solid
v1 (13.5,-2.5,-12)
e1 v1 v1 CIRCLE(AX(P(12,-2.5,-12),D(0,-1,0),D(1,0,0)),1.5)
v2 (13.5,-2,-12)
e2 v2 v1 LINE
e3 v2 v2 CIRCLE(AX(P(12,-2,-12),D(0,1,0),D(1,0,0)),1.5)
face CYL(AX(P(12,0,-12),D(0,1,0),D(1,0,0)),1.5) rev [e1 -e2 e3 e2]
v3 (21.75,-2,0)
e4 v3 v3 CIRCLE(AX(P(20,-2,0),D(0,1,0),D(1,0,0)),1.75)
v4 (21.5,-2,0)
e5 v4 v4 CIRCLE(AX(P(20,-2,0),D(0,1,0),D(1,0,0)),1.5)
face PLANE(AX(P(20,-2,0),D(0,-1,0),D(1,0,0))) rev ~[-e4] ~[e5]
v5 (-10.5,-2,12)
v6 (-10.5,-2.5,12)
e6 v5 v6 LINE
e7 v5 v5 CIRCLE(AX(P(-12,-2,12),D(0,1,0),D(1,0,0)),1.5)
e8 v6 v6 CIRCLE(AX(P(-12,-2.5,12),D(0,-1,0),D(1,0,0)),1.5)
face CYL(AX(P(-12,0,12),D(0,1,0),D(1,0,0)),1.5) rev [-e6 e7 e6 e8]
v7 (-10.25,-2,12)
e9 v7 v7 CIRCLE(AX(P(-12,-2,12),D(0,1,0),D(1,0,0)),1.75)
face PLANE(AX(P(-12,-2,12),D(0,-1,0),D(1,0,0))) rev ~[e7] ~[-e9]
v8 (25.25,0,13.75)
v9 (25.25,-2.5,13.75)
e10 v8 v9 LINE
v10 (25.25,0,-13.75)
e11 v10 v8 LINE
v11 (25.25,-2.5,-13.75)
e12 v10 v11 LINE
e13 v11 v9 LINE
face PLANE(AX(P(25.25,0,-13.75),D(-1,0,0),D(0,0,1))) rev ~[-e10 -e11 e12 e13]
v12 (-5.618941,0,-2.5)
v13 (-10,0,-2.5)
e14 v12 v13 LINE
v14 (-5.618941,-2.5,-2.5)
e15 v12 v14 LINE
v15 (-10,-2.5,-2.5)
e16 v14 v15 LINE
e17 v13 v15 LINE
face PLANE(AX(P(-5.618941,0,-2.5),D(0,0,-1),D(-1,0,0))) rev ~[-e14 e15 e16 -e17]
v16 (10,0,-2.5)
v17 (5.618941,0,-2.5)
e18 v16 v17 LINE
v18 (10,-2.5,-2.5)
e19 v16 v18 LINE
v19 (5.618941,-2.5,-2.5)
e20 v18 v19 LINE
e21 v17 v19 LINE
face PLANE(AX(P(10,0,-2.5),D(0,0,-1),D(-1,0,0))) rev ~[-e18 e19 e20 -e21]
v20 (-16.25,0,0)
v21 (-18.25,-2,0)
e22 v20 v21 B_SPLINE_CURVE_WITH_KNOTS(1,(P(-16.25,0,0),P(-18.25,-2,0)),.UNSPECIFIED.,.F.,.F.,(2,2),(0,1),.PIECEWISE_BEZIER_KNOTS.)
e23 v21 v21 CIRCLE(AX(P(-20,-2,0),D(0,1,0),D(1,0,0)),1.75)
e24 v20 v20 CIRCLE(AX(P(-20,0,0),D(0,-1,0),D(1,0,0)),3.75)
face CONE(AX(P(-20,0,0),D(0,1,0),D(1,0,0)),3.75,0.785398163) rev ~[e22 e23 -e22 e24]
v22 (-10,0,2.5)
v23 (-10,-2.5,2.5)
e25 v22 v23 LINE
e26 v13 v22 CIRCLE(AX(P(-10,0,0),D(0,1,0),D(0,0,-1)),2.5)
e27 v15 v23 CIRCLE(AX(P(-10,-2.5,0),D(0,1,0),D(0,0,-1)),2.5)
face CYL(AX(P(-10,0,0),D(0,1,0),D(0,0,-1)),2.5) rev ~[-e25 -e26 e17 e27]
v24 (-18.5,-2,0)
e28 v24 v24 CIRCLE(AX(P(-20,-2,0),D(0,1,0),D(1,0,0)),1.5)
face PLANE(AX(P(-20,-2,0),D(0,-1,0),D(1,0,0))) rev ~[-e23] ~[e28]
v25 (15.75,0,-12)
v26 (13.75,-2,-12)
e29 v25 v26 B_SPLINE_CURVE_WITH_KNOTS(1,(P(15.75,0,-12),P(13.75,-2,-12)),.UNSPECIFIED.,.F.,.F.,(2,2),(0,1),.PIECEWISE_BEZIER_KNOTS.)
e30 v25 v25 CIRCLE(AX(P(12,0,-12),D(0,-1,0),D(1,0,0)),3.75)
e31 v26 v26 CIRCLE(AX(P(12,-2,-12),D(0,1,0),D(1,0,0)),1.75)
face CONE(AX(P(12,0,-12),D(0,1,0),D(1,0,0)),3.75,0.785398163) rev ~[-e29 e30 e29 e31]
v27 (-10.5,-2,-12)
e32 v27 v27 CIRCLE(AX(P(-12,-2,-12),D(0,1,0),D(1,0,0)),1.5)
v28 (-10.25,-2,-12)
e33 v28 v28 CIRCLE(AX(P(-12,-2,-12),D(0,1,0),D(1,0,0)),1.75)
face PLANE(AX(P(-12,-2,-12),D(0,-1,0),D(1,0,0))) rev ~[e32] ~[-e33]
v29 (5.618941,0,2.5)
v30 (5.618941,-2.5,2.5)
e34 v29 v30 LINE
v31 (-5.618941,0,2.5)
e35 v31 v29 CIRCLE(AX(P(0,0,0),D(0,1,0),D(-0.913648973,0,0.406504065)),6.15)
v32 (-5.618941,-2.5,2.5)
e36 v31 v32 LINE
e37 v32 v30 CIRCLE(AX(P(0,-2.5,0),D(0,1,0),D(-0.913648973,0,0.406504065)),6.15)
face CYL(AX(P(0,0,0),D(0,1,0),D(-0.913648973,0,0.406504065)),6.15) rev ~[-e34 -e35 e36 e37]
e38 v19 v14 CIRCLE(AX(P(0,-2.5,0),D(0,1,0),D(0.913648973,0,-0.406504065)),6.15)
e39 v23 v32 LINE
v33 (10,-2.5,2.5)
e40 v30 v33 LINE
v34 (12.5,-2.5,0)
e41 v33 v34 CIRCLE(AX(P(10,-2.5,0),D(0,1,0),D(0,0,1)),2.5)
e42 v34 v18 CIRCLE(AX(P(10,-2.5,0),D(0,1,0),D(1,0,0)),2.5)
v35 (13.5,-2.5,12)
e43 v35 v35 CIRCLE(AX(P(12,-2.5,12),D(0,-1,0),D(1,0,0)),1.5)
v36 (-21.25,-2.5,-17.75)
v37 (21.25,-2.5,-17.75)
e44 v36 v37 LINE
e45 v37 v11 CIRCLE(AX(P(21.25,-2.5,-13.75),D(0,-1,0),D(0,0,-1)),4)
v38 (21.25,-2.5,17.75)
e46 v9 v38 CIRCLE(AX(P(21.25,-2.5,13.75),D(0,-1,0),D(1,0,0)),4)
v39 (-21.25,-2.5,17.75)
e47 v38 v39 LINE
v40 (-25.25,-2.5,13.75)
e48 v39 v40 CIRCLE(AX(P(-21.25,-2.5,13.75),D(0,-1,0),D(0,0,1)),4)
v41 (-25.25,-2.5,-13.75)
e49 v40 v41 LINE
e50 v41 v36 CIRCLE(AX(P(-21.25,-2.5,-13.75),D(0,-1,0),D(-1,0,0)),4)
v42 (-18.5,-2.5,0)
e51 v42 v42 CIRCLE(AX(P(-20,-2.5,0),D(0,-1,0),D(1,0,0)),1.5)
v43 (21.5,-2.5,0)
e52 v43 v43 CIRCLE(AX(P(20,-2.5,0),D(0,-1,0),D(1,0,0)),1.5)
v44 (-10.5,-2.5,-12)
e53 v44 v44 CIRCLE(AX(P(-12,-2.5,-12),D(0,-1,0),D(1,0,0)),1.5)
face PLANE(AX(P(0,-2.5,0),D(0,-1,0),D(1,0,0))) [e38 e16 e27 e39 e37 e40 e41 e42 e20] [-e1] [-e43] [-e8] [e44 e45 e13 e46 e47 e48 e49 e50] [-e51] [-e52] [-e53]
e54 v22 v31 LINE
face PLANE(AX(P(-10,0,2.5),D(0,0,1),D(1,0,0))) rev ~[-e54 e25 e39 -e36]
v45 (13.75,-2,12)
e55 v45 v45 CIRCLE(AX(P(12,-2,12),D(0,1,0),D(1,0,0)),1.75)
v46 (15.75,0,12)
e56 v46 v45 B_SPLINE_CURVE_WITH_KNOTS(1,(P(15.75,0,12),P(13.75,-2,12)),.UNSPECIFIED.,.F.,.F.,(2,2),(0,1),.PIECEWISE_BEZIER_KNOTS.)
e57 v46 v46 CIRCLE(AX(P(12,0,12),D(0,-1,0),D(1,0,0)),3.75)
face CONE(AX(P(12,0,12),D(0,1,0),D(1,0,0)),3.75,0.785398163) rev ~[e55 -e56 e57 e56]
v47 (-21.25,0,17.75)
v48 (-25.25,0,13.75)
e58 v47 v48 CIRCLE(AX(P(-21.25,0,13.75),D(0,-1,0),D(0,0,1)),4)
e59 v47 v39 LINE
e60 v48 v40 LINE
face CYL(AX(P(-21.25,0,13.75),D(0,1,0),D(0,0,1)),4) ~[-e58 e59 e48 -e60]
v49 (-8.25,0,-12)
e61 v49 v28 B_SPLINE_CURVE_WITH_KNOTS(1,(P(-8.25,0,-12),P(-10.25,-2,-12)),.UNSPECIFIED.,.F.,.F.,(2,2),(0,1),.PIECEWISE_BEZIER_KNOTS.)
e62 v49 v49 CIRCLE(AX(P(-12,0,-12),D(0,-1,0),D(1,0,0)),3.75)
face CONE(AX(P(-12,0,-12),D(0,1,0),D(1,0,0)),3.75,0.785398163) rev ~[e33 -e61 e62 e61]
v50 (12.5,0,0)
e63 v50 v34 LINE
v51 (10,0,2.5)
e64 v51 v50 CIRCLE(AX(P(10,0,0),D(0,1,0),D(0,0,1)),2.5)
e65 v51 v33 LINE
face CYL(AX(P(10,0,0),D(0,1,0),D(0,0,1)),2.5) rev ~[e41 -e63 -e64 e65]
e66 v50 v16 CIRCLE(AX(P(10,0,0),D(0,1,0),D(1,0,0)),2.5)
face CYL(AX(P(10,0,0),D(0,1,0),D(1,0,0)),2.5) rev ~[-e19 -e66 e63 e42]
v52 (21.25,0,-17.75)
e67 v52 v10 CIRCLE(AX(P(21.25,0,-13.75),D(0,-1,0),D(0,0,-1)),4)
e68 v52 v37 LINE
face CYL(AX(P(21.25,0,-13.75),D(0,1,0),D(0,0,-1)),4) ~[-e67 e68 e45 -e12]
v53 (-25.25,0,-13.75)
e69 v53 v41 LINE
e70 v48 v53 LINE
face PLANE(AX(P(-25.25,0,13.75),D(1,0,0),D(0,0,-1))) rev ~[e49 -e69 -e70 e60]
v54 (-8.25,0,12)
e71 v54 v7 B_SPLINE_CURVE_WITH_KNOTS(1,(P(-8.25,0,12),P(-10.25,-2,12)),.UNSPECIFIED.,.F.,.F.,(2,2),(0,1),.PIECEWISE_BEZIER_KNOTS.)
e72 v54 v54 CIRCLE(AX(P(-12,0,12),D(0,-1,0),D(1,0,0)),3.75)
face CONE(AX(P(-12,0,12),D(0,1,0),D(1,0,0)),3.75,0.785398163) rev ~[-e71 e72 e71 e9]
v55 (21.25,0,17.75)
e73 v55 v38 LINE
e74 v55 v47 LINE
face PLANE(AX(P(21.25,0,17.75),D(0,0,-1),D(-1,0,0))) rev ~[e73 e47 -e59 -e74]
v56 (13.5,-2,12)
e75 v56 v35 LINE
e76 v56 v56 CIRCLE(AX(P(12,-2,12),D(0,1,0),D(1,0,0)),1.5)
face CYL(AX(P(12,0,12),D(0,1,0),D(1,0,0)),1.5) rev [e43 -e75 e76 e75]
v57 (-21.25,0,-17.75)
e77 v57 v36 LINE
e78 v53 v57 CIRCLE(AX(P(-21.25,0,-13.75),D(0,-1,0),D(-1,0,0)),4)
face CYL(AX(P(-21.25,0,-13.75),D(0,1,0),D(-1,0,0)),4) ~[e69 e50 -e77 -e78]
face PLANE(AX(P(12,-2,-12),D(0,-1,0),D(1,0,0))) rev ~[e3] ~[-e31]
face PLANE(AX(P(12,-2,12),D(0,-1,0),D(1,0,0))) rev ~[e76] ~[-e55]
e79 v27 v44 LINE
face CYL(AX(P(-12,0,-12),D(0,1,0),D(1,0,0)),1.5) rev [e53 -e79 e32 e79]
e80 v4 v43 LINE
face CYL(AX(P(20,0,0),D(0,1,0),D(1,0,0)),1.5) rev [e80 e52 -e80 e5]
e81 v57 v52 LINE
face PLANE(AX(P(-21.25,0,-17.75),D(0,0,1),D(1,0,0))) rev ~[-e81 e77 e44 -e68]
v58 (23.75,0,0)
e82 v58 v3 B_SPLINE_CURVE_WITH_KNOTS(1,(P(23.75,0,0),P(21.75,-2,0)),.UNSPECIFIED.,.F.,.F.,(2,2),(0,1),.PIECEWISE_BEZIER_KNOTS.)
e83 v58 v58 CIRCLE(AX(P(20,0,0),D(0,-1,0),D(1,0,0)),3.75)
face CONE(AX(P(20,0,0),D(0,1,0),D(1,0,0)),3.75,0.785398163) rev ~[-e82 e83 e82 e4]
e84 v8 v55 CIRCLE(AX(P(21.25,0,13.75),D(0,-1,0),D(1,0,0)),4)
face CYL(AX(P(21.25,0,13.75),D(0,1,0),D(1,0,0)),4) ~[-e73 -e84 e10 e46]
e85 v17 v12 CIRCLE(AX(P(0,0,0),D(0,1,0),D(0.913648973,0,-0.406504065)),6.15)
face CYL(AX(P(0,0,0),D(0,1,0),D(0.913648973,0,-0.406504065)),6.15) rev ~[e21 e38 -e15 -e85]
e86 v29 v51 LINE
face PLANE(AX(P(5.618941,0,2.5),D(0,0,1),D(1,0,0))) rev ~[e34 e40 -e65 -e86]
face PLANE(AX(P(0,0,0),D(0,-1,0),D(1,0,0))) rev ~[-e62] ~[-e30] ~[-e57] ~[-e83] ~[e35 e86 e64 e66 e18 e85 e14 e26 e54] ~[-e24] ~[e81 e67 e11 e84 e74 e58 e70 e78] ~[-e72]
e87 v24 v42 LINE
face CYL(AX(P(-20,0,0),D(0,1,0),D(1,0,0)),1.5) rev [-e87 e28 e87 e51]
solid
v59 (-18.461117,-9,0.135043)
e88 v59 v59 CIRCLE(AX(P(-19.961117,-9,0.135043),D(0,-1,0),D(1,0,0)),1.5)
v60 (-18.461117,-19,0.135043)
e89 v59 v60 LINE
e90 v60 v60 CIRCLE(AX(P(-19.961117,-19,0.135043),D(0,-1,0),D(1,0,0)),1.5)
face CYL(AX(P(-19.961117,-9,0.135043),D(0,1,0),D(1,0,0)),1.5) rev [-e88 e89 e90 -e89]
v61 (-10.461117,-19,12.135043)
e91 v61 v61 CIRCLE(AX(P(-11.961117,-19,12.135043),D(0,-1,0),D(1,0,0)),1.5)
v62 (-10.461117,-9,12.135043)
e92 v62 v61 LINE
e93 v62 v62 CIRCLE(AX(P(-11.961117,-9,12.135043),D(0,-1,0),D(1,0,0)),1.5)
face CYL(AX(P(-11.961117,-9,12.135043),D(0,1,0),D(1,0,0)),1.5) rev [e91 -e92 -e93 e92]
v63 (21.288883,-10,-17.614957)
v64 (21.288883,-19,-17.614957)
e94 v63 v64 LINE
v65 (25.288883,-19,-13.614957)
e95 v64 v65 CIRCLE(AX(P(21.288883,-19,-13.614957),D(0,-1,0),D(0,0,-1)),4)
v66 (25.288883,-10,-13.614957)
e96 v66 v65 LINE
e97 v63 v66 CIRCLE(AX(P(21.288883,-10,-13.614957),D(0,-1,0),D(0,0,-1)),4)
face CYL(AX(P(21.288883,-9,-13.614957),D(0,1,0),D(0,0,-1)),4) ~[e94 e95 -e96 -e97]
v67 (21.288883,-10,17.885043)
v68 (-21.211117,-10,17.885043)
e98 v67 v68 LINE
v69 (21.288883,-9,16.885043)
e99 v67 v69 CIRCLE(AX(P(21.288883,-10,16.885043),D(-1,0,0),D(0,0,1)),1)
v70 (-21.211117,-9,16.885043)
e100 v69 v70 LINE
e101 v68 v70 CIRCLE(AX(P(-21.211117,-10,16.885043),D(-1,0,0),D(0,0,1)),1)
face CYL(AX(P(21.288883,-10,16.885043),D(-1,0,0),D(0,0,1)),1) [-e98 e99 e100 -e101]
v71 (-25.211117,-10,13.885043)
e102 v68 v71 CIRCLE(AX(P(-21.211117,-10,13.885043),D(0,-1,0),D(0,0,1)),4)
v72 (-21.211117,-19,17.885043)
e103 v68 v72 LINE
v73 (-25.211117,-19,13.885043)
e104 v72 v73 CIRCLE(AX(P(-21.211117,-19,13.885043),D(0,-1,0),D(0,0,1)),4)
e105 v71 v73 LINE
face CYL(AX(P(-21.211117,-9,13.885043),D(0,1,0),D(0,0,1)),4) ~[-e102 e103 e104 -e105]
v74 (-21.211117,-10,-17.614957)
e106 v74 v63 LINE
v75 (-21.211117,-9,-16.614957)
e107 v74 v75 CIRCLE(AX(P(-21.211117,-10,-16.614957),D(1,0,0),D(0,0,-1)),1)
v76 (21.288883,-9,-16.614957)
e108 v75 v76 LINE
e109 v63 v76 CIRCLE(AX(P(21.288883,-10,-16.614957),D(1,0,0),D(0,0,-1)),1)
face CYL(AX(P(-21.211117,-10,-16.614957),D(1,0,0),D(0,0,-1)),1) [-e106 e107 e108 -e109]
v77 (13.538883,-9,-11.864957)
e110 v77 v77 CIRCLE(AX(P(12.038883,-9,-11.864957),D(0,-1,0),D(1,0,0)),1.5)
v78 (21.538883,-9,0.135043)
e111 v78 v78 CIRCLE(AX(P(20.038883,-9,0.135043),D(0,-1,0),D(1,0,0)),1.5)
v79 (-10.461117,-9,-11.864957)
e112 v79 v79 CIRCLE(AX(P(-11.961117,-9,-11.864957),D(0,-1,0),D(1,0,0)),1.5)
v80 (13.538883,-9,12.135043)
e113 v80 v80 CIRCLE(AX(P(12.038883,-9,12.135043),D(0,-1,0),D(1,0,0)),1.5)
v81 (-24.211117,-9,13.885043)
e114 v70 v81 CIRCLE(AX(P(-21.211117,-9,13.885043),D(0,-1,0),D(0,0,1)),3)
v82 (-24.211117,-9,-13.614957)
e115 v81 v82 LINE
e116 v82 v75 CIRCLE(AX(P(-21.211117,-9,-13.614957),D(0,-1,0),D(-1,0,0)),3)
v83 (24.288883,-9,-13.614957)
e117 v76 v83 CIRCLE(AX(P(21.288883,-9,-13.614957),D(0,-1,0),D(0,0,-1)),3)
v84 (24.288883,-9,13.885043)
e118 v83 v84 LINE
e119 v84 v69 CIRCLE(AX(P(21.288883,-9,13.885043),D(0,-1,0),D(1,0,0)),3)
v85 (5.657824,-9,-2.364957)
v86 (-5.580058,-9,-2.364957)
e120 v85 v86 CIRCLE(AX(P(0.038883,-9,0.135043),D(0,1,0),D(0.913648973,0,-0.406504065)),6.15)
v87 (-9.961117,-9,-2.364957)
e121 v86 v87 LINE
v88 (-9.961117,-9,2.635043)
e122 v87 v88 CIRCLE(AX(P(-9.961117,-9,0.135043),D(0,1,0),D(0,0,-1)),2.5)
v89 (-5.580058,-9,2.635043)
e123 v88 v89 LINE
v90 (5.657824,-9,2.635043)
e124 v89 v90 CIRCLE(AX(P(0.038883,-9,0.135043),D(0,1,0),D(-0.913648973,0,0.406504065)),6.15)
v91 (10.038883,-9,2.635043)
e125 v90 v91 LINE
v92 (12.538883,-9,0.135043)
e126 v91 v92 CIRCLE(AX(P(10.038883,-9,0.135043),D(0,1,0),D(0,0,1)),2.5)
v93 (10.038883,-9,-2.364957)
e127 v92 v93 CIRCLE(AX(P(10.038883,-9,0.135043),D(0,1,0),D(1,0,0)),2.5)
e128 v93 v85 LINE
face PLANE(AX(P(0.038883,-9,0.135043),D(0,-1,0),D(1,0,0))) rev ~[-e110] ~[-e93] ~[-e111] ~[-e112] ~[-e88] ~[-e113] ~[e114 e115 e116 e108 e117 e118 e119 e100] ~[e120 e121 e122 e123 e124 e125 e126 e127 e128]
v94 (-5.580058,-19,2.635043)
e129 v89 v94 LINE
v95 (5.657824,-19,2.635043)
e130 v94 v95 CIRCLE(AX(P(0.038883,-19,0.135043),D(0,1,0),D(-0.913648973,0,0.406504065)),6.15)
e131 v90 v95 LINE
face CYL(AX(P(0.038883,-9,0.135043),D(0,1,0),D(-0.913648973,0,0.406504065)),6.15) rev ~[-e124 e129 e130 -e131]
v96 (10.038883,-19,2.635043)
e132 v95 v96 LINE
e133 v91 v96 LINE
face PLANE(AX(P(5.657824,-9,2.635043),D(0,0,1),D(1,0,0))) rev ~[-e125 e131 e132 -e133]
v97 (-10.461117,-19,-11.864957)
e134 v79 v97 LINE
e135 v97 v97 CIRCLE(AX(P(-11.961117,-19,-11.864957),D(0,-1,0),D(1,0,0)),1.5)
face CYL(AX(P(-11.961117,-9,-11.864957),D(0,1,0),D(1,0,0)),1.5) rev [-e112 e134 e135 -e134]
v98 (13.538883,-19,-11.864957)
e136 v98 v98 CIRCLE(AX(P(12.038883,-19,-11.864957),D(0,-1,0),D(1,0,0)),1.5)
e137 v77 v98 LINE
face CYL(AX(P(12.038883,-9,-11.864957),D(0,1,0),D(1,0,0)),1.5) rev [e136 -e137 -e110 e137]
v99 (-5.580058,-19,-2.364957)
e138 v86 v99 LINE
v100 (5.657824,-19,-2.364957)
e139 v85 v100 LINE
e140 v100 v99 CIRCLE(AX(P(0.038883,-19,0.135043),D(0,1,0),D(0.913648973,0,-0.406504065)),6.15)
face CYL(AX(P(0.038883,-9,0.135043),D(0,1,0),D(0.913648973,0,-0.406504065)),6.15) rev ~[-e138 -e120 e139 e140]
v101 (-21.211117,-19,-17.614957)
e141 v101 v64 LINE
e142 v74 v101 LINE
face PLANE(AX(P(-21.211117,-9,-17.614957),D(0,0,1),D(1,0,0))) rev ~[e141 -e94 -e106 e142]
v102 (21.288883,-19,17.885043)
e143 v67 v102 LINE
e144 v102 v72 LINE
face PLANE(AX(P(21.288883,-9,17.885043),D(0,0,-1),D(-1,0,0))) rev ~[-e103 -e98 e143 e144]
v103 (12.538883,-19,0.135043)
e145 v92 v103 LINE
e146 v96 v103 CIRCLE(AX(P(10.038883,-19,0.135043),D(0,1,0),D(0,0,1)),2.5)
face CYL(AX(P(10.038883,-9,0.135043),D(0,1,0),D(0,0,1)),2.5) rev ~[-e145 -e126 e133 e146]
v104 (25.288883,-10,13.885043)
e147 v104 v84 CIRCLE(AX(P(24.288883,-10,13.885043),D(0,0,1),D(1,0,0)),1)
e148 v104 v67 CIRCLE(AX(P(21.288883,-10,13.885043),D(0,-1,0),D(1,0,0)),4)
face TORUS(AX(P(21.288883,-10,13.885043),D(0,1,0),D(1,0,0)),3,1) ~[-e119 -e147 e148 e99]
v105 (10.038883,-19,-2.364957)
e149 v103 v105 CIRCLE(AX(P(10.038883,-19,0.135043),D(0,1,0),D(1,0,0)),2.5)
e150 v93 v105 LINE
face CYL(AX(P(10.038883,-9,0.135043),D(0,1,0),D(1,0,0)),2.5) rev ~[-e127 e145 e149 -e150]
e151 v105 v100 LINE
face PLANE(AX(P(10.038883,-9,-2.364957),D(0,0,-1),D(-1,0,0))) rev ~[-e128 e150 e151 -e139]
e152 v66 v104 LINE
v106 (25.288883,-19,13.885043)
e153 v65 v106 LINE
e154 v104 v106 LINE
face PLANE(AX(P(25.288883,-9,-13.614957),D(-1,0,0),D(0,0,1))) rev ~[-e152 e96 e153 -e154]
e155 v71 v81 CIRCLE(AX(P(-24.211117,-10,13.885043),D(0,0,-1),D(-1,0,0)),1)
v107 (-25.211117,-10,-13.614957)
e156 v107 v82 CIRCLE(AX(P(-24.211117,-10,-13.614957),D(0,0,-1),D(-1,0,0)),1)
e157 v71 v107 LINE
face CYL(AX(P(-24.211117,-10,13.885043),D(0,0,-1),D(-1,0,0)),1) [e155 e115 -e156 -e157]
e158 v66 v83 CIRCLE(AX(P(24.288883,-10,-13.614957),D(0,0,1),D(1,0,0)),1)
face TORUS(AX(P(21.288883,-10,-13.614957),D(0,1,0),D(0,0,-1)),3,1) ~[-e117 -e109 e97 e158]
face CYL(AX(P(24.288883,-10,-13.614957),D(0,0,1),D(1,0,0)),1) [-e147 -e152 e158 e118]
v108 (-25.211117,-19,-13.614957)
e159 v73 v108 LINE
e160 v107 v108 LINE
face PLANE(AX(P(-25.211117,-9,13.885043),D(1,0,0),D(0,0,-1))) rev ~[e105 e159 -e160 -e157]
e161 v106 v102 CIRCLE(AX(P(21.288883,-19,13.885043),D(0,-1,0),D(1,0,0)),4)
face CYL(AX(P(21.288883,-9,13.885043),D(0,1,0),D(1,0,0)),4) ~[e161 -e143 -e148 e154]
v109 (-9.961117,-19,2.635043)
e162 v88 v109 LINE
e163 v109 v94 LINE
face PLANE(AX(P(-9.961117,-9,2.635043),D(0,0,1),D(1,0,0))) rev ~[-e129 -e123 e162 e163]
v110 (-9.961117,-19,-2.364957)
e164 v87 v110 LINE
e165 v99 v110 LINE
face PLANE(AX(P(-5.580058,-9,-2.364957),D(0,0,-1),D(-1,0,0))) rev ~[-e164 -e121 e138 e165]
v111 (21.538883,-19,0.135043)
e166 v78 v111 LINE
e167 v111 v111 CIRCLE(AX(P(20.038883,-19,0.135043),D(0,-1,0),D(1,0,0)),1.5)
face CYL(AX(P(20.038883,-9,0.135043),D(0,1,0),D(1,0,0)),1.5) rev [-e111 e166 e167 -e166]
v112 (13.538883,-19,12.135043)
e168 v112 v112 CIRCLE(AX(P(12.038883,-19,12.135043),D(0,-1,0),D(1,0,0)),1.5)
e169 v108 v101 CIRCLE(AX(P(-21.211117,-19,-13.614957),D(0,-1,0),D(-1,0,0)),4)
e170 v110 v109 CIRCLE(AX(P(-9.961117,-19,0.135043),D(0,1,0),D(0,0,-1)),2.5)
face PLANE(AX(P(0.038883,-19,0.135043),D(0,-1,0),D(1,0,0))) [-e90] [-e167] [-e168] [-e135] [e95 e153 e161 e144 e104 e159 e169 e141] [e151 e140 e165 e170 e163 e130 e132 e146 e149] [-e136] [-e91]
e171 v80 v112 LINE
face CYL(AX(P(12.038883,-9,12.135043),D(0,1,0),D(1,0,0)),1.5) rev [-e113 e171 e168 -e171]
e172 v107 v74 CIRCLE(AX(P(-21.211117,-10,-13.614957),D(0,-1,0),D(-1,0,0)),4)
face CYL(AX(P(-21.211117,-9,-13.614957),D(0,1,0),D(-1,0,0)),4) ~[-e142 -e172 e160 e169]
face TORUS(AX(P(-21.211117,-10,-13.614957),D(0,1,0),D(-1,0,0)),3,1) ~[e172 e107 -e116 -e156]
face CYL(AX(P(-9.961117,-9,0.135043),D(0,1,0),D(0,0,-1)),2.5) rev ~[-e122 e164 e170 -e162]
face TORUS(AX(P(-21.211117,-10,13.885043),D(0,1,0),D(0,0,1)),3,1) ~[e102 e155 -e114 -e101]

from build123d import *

# Parameters (mm, degrees)
F0_R     = 3.75
F0_R_2   = 1.5
F3_DEPTH = 2.5
F4_DEPTH = 2
F4_TAPER = 45
F2_R     = 1.5
F5_DEPTH = 10
F6_R     = 1


with BuildPart() as f3:
    # F0 (on Front) → F3 (new body)
    with BuildSketch(Plane.XZ):
        with BuildLine():
            ThreePointArc((25.25, 13.75), (24.0784271247, 16.5784271247), (21.25, 17.75))
            Line((21.25, 17.75), (-21.25, 17.75))
            ThreePointArc((-21.25, 17.75), (-24.0784271247, 16.5784271247), (-25.25, 13.75))
            Line((-25.25, 13.75), (-25.25, -13.75))
            ThreePointArc((-25.25, -13.75), (-24.0784271247, -16.5784271247), (-21.25, -17.75))
            Line((-21.25, -17.75), (21.25, -17.75))
            ThreePointArc((21.25, -17.75), (24.0784271247, -16.5784271247), (25.25, -13.75))
            Line((25.25, -13.75), (25.25, 13.75))
        make_face()
        with Locations((-12, -12)):
            Circle(F0_R, mode=Mode.SUBTRACT)
        with Locations((12, -12)):
            Circle(F0_R, mode=Mode.SUBTRACT)
        with Locations((-20, 0)):
            Circle(F0_R, mode=Mode.SUBTRACT)
        with Locations((-12, 12)):
            Circle(F0_R, mode=Mode.SUBTRACT)
        with BuildLine():
            ThreePointArc((-5.6189411814, 2.5), (0, 6.15), (5.6189411814, 2.5))
            Line((5.6189411814, 2.5), (10, 2.5))
            ThreePointArc((10, 2.5), (11.767766953, 1.767766953), (12.5, 0))
            ThreePointArc((12.5, 0), (11.767766953, -1.767766953), (10, -2.5))
            Line((10, -2.5), (5.6189411814, -2.5))
            ThreePointArc((5.6189411814, -2.5), (0, -6.15), (-5.6189411814, -2.5))
            Line((-5.6189411814, -2.5), (-10, -2.5))
            ThreePointArc((-10, -2.5), (-12.5, 0), (-10, 2.5))
            Line((-10, 2.5), (-5.6189411814, 2.5))
        make_face(mode=Mode.SUBTRACT)
        with Locations((20, 0)):
            Circle(F0_R, mode=Mode.SUBTRACT)
        with Locations((12, 12)):
            Circle(F0_R, mode=Mode.SUBTRACT)
        with Locations((-12, 12)):
            Circle(F0_R)
        with Locations((-12, 12)):
            Circle(F0_R_2, mode=Mode.SUBTRACT)
        with Locations((-20, 0)):
            Circle(F0_R)
        with Locations((-20, 0)):
            Circle(F0_R_2, mode=Mode.SUBTRACT)
        with Locations((-12, -12)):
            Circle(F0_R)
        with Locations((-12, -12)):
            Circle(F0_R_2, mode=Mode.SUBTRACT)
        with Locations((12, -12)):
            Circle(F0_R)
        with Locations((12, -12)):
            Circle(F0_R_2, mode=Mode.SUBTRACT)
        with Locations((20, 0)):
            Circle(F0_R)
        with Locations((20, 0)):
            Circle(F0_R_2, mode=Mode.SUBTRACT)
        with Locations((12, 12)):
            Circle(F0_R)
        with Locations((12, 12)):
            Circle(F0_R_2, mode=Mode.SUBTRACT)
    extrude(amount=F3_DEPTH)

    # F0 (on Front) → F4 (cut)
    with BuildSketch(Plane.XZ):
        with Locations((-20, 0)):
            Circle(F0_R)
        with Locations((-20, 0)):
            Circle(F0_R_2, mode=Mode.SUBTRACT)
        with Locations((12, -12)):
            Circle(F0_R)
        with Locations((12, -12)):
            Circle(F0_R_2, mode=Mode.SUBTRACT)
        with Locations((-12, 12)):
            Circle(F0_R)
        with Locations((-12, 12)):
            Circle(F0_R_2, mode=Mode.SUBTRACT)
        with Locations((12, 12)):
            Circle(F0_R)
        with Locations((12, 12)):
            Circle(F0_R_2, mode=Mode.SUBTRACT)
        with Locations((-12, -12)):
            Circle(F0_R)
        with Locations((-12, -12)):
            Circle(F0_R_2, mode=Mode.SUBTRACT)
        with Locations((20, 0)):
            Circle(F0_R)
        with Locations((20, 0)):
            Circle(F0_R_2, mode=Mode.SUBTRACT)
        with Locations((-12, 12)):
            Circle(F0_R_2)
        with Locations((-20, 0)):
            Circle(F0_R_2)
        with Locations((-12, -12)):
            Circle(F0_R_2)
        with Locations((12, -12)):
            Circle(F0_R_2)
        with Locations((20, 0)):
            Circle(F0_R_2)
        with Locations((12, 12)):
            Circle(F0_R_2)
    extrude(amount=F4_DEPTH, taper=F4_TAPER, mode=Mode.SUBTRACT)


with BuildPart() as f5:
    # F2 (on offset) → F5 (new body)
    with BuildSketch(Plane.XZ.offset(9)):
        with BuildLine():
            ThreePointArc((25.2888827066, 13.8850433886), (24.1173098313, 16.7134705133), (21.2888827066, 17.8850433886))
            Line((21.2888827066, 17.8850433886), (-21.2111172934, 17.8850433886))
            ThreePointArc((-21.2111172934, 17.8850433886), (-24.0395444182, 16.7134705133), (-25.2111172934, 13.8850433886))
            Line((-25.2111172934, 13.8850433886), (-25.2111172934, -13.6149566114))
            ThreePointArc((-25.2111172934, -13.6149566114), (-24.0395444182, -16.4433837362), (-21.2111172934, -17.6149566114))
            Line((-21.2111172934, -17.6149566114), (21.2888827066, -17.6149566114))
            ThreePointArc((21.2888827066, -17.6149566114), (24.1173098313, -16.4433837362), (25.2888827066, -13.6149566114))
            Line((25.2888827066, -13.6149566114), (25.2888827066, 13.8850433886))
        make_face()
        with Locations((-11.9611172934, -11.8649566114)):
            Circle(F2_R, mode=Mode.SUBTRACT)
        with Locations((-19.9611172934, 0.1350433886)):
            Circle(F2_R, mode=Mode.SUBTRACT)
        with Locations((12.0388827066, -11.8649566114)):
            Circle(F2_R, mode=Mode.SUBTRACT)
        with BuildLine():
            ThreePointArc((-5.5800584748, 2.6350433886), (0.0388827066, 6.2850433886), (5.657823888, 2.6350433886))
            Line((5.657823888, 2.6350433886), (10.0388827066, 2.6350433886))
            ThreePointArc((10.0388827066, 2.6350433886), (11.8066496595, 1.9028103415), (12.5388827066, 0.1350433886))
            ThreePointArc((12.5388827066, 0.1350433886), (11.8066496595, -1.6327235644), (10.0388827066, -2.3649566114))
            Line((10.0388827066, -2.3649566114), (5.657823888, -2.3649566114))
            ThreePointArc((5.657823888, -2.3649566114), (0.0388827066, -6.0149566114), (-5.5800584748, -2.3649566114))
            Line((-5.5800584748, -2.3649566114), (-9.9611172934, -2.3649566114))
            ThreePointArc((-9.9611172934, -2.3649566114), (-12.4611172934, 0.1350433886), (-9.9611172934, 2.6350433886))
            Line((-9.9611172934, 2.6350433886), (-5.5800584748, 2.6350433886))
        make_face(mode=Mode.SUBTRACT)
        with Locations((20.0388827066, 0.1350433886)):
            Circle(F2_R, mode=Mode.SUBTRACT)
        with Locations((-11.9611172934, 12.1350433886)):
            Circle(F2_R, mode=Mode.SUBTRACT)
        with Locations((12.0388827066, 12.1350433886)):
            Circle(F2_R, mode=Mode.SUBTRACT)
    extrude(amount=F5_DEPTH)

    # F6
    f6_edges = [f5.edges().sort_by_distance(p)[0] for p in [
        (25.288883, -9, 0.135043),
        (24.11731, -9, -16.443384),
        (0.038883, -9, -17.614957),
        (24.11731, -9, 16.713471),
        (-24.039544, -9, -16.443384),
        (-25.211117, -9, 0.135043),
        (-24.039544, -9, 16.713471),
        (0.038883, -9, 17.885043),
    ]]
    fillet(f6_edges, radius=F6_R)


solid = Compound([f3.part, f5.part])
